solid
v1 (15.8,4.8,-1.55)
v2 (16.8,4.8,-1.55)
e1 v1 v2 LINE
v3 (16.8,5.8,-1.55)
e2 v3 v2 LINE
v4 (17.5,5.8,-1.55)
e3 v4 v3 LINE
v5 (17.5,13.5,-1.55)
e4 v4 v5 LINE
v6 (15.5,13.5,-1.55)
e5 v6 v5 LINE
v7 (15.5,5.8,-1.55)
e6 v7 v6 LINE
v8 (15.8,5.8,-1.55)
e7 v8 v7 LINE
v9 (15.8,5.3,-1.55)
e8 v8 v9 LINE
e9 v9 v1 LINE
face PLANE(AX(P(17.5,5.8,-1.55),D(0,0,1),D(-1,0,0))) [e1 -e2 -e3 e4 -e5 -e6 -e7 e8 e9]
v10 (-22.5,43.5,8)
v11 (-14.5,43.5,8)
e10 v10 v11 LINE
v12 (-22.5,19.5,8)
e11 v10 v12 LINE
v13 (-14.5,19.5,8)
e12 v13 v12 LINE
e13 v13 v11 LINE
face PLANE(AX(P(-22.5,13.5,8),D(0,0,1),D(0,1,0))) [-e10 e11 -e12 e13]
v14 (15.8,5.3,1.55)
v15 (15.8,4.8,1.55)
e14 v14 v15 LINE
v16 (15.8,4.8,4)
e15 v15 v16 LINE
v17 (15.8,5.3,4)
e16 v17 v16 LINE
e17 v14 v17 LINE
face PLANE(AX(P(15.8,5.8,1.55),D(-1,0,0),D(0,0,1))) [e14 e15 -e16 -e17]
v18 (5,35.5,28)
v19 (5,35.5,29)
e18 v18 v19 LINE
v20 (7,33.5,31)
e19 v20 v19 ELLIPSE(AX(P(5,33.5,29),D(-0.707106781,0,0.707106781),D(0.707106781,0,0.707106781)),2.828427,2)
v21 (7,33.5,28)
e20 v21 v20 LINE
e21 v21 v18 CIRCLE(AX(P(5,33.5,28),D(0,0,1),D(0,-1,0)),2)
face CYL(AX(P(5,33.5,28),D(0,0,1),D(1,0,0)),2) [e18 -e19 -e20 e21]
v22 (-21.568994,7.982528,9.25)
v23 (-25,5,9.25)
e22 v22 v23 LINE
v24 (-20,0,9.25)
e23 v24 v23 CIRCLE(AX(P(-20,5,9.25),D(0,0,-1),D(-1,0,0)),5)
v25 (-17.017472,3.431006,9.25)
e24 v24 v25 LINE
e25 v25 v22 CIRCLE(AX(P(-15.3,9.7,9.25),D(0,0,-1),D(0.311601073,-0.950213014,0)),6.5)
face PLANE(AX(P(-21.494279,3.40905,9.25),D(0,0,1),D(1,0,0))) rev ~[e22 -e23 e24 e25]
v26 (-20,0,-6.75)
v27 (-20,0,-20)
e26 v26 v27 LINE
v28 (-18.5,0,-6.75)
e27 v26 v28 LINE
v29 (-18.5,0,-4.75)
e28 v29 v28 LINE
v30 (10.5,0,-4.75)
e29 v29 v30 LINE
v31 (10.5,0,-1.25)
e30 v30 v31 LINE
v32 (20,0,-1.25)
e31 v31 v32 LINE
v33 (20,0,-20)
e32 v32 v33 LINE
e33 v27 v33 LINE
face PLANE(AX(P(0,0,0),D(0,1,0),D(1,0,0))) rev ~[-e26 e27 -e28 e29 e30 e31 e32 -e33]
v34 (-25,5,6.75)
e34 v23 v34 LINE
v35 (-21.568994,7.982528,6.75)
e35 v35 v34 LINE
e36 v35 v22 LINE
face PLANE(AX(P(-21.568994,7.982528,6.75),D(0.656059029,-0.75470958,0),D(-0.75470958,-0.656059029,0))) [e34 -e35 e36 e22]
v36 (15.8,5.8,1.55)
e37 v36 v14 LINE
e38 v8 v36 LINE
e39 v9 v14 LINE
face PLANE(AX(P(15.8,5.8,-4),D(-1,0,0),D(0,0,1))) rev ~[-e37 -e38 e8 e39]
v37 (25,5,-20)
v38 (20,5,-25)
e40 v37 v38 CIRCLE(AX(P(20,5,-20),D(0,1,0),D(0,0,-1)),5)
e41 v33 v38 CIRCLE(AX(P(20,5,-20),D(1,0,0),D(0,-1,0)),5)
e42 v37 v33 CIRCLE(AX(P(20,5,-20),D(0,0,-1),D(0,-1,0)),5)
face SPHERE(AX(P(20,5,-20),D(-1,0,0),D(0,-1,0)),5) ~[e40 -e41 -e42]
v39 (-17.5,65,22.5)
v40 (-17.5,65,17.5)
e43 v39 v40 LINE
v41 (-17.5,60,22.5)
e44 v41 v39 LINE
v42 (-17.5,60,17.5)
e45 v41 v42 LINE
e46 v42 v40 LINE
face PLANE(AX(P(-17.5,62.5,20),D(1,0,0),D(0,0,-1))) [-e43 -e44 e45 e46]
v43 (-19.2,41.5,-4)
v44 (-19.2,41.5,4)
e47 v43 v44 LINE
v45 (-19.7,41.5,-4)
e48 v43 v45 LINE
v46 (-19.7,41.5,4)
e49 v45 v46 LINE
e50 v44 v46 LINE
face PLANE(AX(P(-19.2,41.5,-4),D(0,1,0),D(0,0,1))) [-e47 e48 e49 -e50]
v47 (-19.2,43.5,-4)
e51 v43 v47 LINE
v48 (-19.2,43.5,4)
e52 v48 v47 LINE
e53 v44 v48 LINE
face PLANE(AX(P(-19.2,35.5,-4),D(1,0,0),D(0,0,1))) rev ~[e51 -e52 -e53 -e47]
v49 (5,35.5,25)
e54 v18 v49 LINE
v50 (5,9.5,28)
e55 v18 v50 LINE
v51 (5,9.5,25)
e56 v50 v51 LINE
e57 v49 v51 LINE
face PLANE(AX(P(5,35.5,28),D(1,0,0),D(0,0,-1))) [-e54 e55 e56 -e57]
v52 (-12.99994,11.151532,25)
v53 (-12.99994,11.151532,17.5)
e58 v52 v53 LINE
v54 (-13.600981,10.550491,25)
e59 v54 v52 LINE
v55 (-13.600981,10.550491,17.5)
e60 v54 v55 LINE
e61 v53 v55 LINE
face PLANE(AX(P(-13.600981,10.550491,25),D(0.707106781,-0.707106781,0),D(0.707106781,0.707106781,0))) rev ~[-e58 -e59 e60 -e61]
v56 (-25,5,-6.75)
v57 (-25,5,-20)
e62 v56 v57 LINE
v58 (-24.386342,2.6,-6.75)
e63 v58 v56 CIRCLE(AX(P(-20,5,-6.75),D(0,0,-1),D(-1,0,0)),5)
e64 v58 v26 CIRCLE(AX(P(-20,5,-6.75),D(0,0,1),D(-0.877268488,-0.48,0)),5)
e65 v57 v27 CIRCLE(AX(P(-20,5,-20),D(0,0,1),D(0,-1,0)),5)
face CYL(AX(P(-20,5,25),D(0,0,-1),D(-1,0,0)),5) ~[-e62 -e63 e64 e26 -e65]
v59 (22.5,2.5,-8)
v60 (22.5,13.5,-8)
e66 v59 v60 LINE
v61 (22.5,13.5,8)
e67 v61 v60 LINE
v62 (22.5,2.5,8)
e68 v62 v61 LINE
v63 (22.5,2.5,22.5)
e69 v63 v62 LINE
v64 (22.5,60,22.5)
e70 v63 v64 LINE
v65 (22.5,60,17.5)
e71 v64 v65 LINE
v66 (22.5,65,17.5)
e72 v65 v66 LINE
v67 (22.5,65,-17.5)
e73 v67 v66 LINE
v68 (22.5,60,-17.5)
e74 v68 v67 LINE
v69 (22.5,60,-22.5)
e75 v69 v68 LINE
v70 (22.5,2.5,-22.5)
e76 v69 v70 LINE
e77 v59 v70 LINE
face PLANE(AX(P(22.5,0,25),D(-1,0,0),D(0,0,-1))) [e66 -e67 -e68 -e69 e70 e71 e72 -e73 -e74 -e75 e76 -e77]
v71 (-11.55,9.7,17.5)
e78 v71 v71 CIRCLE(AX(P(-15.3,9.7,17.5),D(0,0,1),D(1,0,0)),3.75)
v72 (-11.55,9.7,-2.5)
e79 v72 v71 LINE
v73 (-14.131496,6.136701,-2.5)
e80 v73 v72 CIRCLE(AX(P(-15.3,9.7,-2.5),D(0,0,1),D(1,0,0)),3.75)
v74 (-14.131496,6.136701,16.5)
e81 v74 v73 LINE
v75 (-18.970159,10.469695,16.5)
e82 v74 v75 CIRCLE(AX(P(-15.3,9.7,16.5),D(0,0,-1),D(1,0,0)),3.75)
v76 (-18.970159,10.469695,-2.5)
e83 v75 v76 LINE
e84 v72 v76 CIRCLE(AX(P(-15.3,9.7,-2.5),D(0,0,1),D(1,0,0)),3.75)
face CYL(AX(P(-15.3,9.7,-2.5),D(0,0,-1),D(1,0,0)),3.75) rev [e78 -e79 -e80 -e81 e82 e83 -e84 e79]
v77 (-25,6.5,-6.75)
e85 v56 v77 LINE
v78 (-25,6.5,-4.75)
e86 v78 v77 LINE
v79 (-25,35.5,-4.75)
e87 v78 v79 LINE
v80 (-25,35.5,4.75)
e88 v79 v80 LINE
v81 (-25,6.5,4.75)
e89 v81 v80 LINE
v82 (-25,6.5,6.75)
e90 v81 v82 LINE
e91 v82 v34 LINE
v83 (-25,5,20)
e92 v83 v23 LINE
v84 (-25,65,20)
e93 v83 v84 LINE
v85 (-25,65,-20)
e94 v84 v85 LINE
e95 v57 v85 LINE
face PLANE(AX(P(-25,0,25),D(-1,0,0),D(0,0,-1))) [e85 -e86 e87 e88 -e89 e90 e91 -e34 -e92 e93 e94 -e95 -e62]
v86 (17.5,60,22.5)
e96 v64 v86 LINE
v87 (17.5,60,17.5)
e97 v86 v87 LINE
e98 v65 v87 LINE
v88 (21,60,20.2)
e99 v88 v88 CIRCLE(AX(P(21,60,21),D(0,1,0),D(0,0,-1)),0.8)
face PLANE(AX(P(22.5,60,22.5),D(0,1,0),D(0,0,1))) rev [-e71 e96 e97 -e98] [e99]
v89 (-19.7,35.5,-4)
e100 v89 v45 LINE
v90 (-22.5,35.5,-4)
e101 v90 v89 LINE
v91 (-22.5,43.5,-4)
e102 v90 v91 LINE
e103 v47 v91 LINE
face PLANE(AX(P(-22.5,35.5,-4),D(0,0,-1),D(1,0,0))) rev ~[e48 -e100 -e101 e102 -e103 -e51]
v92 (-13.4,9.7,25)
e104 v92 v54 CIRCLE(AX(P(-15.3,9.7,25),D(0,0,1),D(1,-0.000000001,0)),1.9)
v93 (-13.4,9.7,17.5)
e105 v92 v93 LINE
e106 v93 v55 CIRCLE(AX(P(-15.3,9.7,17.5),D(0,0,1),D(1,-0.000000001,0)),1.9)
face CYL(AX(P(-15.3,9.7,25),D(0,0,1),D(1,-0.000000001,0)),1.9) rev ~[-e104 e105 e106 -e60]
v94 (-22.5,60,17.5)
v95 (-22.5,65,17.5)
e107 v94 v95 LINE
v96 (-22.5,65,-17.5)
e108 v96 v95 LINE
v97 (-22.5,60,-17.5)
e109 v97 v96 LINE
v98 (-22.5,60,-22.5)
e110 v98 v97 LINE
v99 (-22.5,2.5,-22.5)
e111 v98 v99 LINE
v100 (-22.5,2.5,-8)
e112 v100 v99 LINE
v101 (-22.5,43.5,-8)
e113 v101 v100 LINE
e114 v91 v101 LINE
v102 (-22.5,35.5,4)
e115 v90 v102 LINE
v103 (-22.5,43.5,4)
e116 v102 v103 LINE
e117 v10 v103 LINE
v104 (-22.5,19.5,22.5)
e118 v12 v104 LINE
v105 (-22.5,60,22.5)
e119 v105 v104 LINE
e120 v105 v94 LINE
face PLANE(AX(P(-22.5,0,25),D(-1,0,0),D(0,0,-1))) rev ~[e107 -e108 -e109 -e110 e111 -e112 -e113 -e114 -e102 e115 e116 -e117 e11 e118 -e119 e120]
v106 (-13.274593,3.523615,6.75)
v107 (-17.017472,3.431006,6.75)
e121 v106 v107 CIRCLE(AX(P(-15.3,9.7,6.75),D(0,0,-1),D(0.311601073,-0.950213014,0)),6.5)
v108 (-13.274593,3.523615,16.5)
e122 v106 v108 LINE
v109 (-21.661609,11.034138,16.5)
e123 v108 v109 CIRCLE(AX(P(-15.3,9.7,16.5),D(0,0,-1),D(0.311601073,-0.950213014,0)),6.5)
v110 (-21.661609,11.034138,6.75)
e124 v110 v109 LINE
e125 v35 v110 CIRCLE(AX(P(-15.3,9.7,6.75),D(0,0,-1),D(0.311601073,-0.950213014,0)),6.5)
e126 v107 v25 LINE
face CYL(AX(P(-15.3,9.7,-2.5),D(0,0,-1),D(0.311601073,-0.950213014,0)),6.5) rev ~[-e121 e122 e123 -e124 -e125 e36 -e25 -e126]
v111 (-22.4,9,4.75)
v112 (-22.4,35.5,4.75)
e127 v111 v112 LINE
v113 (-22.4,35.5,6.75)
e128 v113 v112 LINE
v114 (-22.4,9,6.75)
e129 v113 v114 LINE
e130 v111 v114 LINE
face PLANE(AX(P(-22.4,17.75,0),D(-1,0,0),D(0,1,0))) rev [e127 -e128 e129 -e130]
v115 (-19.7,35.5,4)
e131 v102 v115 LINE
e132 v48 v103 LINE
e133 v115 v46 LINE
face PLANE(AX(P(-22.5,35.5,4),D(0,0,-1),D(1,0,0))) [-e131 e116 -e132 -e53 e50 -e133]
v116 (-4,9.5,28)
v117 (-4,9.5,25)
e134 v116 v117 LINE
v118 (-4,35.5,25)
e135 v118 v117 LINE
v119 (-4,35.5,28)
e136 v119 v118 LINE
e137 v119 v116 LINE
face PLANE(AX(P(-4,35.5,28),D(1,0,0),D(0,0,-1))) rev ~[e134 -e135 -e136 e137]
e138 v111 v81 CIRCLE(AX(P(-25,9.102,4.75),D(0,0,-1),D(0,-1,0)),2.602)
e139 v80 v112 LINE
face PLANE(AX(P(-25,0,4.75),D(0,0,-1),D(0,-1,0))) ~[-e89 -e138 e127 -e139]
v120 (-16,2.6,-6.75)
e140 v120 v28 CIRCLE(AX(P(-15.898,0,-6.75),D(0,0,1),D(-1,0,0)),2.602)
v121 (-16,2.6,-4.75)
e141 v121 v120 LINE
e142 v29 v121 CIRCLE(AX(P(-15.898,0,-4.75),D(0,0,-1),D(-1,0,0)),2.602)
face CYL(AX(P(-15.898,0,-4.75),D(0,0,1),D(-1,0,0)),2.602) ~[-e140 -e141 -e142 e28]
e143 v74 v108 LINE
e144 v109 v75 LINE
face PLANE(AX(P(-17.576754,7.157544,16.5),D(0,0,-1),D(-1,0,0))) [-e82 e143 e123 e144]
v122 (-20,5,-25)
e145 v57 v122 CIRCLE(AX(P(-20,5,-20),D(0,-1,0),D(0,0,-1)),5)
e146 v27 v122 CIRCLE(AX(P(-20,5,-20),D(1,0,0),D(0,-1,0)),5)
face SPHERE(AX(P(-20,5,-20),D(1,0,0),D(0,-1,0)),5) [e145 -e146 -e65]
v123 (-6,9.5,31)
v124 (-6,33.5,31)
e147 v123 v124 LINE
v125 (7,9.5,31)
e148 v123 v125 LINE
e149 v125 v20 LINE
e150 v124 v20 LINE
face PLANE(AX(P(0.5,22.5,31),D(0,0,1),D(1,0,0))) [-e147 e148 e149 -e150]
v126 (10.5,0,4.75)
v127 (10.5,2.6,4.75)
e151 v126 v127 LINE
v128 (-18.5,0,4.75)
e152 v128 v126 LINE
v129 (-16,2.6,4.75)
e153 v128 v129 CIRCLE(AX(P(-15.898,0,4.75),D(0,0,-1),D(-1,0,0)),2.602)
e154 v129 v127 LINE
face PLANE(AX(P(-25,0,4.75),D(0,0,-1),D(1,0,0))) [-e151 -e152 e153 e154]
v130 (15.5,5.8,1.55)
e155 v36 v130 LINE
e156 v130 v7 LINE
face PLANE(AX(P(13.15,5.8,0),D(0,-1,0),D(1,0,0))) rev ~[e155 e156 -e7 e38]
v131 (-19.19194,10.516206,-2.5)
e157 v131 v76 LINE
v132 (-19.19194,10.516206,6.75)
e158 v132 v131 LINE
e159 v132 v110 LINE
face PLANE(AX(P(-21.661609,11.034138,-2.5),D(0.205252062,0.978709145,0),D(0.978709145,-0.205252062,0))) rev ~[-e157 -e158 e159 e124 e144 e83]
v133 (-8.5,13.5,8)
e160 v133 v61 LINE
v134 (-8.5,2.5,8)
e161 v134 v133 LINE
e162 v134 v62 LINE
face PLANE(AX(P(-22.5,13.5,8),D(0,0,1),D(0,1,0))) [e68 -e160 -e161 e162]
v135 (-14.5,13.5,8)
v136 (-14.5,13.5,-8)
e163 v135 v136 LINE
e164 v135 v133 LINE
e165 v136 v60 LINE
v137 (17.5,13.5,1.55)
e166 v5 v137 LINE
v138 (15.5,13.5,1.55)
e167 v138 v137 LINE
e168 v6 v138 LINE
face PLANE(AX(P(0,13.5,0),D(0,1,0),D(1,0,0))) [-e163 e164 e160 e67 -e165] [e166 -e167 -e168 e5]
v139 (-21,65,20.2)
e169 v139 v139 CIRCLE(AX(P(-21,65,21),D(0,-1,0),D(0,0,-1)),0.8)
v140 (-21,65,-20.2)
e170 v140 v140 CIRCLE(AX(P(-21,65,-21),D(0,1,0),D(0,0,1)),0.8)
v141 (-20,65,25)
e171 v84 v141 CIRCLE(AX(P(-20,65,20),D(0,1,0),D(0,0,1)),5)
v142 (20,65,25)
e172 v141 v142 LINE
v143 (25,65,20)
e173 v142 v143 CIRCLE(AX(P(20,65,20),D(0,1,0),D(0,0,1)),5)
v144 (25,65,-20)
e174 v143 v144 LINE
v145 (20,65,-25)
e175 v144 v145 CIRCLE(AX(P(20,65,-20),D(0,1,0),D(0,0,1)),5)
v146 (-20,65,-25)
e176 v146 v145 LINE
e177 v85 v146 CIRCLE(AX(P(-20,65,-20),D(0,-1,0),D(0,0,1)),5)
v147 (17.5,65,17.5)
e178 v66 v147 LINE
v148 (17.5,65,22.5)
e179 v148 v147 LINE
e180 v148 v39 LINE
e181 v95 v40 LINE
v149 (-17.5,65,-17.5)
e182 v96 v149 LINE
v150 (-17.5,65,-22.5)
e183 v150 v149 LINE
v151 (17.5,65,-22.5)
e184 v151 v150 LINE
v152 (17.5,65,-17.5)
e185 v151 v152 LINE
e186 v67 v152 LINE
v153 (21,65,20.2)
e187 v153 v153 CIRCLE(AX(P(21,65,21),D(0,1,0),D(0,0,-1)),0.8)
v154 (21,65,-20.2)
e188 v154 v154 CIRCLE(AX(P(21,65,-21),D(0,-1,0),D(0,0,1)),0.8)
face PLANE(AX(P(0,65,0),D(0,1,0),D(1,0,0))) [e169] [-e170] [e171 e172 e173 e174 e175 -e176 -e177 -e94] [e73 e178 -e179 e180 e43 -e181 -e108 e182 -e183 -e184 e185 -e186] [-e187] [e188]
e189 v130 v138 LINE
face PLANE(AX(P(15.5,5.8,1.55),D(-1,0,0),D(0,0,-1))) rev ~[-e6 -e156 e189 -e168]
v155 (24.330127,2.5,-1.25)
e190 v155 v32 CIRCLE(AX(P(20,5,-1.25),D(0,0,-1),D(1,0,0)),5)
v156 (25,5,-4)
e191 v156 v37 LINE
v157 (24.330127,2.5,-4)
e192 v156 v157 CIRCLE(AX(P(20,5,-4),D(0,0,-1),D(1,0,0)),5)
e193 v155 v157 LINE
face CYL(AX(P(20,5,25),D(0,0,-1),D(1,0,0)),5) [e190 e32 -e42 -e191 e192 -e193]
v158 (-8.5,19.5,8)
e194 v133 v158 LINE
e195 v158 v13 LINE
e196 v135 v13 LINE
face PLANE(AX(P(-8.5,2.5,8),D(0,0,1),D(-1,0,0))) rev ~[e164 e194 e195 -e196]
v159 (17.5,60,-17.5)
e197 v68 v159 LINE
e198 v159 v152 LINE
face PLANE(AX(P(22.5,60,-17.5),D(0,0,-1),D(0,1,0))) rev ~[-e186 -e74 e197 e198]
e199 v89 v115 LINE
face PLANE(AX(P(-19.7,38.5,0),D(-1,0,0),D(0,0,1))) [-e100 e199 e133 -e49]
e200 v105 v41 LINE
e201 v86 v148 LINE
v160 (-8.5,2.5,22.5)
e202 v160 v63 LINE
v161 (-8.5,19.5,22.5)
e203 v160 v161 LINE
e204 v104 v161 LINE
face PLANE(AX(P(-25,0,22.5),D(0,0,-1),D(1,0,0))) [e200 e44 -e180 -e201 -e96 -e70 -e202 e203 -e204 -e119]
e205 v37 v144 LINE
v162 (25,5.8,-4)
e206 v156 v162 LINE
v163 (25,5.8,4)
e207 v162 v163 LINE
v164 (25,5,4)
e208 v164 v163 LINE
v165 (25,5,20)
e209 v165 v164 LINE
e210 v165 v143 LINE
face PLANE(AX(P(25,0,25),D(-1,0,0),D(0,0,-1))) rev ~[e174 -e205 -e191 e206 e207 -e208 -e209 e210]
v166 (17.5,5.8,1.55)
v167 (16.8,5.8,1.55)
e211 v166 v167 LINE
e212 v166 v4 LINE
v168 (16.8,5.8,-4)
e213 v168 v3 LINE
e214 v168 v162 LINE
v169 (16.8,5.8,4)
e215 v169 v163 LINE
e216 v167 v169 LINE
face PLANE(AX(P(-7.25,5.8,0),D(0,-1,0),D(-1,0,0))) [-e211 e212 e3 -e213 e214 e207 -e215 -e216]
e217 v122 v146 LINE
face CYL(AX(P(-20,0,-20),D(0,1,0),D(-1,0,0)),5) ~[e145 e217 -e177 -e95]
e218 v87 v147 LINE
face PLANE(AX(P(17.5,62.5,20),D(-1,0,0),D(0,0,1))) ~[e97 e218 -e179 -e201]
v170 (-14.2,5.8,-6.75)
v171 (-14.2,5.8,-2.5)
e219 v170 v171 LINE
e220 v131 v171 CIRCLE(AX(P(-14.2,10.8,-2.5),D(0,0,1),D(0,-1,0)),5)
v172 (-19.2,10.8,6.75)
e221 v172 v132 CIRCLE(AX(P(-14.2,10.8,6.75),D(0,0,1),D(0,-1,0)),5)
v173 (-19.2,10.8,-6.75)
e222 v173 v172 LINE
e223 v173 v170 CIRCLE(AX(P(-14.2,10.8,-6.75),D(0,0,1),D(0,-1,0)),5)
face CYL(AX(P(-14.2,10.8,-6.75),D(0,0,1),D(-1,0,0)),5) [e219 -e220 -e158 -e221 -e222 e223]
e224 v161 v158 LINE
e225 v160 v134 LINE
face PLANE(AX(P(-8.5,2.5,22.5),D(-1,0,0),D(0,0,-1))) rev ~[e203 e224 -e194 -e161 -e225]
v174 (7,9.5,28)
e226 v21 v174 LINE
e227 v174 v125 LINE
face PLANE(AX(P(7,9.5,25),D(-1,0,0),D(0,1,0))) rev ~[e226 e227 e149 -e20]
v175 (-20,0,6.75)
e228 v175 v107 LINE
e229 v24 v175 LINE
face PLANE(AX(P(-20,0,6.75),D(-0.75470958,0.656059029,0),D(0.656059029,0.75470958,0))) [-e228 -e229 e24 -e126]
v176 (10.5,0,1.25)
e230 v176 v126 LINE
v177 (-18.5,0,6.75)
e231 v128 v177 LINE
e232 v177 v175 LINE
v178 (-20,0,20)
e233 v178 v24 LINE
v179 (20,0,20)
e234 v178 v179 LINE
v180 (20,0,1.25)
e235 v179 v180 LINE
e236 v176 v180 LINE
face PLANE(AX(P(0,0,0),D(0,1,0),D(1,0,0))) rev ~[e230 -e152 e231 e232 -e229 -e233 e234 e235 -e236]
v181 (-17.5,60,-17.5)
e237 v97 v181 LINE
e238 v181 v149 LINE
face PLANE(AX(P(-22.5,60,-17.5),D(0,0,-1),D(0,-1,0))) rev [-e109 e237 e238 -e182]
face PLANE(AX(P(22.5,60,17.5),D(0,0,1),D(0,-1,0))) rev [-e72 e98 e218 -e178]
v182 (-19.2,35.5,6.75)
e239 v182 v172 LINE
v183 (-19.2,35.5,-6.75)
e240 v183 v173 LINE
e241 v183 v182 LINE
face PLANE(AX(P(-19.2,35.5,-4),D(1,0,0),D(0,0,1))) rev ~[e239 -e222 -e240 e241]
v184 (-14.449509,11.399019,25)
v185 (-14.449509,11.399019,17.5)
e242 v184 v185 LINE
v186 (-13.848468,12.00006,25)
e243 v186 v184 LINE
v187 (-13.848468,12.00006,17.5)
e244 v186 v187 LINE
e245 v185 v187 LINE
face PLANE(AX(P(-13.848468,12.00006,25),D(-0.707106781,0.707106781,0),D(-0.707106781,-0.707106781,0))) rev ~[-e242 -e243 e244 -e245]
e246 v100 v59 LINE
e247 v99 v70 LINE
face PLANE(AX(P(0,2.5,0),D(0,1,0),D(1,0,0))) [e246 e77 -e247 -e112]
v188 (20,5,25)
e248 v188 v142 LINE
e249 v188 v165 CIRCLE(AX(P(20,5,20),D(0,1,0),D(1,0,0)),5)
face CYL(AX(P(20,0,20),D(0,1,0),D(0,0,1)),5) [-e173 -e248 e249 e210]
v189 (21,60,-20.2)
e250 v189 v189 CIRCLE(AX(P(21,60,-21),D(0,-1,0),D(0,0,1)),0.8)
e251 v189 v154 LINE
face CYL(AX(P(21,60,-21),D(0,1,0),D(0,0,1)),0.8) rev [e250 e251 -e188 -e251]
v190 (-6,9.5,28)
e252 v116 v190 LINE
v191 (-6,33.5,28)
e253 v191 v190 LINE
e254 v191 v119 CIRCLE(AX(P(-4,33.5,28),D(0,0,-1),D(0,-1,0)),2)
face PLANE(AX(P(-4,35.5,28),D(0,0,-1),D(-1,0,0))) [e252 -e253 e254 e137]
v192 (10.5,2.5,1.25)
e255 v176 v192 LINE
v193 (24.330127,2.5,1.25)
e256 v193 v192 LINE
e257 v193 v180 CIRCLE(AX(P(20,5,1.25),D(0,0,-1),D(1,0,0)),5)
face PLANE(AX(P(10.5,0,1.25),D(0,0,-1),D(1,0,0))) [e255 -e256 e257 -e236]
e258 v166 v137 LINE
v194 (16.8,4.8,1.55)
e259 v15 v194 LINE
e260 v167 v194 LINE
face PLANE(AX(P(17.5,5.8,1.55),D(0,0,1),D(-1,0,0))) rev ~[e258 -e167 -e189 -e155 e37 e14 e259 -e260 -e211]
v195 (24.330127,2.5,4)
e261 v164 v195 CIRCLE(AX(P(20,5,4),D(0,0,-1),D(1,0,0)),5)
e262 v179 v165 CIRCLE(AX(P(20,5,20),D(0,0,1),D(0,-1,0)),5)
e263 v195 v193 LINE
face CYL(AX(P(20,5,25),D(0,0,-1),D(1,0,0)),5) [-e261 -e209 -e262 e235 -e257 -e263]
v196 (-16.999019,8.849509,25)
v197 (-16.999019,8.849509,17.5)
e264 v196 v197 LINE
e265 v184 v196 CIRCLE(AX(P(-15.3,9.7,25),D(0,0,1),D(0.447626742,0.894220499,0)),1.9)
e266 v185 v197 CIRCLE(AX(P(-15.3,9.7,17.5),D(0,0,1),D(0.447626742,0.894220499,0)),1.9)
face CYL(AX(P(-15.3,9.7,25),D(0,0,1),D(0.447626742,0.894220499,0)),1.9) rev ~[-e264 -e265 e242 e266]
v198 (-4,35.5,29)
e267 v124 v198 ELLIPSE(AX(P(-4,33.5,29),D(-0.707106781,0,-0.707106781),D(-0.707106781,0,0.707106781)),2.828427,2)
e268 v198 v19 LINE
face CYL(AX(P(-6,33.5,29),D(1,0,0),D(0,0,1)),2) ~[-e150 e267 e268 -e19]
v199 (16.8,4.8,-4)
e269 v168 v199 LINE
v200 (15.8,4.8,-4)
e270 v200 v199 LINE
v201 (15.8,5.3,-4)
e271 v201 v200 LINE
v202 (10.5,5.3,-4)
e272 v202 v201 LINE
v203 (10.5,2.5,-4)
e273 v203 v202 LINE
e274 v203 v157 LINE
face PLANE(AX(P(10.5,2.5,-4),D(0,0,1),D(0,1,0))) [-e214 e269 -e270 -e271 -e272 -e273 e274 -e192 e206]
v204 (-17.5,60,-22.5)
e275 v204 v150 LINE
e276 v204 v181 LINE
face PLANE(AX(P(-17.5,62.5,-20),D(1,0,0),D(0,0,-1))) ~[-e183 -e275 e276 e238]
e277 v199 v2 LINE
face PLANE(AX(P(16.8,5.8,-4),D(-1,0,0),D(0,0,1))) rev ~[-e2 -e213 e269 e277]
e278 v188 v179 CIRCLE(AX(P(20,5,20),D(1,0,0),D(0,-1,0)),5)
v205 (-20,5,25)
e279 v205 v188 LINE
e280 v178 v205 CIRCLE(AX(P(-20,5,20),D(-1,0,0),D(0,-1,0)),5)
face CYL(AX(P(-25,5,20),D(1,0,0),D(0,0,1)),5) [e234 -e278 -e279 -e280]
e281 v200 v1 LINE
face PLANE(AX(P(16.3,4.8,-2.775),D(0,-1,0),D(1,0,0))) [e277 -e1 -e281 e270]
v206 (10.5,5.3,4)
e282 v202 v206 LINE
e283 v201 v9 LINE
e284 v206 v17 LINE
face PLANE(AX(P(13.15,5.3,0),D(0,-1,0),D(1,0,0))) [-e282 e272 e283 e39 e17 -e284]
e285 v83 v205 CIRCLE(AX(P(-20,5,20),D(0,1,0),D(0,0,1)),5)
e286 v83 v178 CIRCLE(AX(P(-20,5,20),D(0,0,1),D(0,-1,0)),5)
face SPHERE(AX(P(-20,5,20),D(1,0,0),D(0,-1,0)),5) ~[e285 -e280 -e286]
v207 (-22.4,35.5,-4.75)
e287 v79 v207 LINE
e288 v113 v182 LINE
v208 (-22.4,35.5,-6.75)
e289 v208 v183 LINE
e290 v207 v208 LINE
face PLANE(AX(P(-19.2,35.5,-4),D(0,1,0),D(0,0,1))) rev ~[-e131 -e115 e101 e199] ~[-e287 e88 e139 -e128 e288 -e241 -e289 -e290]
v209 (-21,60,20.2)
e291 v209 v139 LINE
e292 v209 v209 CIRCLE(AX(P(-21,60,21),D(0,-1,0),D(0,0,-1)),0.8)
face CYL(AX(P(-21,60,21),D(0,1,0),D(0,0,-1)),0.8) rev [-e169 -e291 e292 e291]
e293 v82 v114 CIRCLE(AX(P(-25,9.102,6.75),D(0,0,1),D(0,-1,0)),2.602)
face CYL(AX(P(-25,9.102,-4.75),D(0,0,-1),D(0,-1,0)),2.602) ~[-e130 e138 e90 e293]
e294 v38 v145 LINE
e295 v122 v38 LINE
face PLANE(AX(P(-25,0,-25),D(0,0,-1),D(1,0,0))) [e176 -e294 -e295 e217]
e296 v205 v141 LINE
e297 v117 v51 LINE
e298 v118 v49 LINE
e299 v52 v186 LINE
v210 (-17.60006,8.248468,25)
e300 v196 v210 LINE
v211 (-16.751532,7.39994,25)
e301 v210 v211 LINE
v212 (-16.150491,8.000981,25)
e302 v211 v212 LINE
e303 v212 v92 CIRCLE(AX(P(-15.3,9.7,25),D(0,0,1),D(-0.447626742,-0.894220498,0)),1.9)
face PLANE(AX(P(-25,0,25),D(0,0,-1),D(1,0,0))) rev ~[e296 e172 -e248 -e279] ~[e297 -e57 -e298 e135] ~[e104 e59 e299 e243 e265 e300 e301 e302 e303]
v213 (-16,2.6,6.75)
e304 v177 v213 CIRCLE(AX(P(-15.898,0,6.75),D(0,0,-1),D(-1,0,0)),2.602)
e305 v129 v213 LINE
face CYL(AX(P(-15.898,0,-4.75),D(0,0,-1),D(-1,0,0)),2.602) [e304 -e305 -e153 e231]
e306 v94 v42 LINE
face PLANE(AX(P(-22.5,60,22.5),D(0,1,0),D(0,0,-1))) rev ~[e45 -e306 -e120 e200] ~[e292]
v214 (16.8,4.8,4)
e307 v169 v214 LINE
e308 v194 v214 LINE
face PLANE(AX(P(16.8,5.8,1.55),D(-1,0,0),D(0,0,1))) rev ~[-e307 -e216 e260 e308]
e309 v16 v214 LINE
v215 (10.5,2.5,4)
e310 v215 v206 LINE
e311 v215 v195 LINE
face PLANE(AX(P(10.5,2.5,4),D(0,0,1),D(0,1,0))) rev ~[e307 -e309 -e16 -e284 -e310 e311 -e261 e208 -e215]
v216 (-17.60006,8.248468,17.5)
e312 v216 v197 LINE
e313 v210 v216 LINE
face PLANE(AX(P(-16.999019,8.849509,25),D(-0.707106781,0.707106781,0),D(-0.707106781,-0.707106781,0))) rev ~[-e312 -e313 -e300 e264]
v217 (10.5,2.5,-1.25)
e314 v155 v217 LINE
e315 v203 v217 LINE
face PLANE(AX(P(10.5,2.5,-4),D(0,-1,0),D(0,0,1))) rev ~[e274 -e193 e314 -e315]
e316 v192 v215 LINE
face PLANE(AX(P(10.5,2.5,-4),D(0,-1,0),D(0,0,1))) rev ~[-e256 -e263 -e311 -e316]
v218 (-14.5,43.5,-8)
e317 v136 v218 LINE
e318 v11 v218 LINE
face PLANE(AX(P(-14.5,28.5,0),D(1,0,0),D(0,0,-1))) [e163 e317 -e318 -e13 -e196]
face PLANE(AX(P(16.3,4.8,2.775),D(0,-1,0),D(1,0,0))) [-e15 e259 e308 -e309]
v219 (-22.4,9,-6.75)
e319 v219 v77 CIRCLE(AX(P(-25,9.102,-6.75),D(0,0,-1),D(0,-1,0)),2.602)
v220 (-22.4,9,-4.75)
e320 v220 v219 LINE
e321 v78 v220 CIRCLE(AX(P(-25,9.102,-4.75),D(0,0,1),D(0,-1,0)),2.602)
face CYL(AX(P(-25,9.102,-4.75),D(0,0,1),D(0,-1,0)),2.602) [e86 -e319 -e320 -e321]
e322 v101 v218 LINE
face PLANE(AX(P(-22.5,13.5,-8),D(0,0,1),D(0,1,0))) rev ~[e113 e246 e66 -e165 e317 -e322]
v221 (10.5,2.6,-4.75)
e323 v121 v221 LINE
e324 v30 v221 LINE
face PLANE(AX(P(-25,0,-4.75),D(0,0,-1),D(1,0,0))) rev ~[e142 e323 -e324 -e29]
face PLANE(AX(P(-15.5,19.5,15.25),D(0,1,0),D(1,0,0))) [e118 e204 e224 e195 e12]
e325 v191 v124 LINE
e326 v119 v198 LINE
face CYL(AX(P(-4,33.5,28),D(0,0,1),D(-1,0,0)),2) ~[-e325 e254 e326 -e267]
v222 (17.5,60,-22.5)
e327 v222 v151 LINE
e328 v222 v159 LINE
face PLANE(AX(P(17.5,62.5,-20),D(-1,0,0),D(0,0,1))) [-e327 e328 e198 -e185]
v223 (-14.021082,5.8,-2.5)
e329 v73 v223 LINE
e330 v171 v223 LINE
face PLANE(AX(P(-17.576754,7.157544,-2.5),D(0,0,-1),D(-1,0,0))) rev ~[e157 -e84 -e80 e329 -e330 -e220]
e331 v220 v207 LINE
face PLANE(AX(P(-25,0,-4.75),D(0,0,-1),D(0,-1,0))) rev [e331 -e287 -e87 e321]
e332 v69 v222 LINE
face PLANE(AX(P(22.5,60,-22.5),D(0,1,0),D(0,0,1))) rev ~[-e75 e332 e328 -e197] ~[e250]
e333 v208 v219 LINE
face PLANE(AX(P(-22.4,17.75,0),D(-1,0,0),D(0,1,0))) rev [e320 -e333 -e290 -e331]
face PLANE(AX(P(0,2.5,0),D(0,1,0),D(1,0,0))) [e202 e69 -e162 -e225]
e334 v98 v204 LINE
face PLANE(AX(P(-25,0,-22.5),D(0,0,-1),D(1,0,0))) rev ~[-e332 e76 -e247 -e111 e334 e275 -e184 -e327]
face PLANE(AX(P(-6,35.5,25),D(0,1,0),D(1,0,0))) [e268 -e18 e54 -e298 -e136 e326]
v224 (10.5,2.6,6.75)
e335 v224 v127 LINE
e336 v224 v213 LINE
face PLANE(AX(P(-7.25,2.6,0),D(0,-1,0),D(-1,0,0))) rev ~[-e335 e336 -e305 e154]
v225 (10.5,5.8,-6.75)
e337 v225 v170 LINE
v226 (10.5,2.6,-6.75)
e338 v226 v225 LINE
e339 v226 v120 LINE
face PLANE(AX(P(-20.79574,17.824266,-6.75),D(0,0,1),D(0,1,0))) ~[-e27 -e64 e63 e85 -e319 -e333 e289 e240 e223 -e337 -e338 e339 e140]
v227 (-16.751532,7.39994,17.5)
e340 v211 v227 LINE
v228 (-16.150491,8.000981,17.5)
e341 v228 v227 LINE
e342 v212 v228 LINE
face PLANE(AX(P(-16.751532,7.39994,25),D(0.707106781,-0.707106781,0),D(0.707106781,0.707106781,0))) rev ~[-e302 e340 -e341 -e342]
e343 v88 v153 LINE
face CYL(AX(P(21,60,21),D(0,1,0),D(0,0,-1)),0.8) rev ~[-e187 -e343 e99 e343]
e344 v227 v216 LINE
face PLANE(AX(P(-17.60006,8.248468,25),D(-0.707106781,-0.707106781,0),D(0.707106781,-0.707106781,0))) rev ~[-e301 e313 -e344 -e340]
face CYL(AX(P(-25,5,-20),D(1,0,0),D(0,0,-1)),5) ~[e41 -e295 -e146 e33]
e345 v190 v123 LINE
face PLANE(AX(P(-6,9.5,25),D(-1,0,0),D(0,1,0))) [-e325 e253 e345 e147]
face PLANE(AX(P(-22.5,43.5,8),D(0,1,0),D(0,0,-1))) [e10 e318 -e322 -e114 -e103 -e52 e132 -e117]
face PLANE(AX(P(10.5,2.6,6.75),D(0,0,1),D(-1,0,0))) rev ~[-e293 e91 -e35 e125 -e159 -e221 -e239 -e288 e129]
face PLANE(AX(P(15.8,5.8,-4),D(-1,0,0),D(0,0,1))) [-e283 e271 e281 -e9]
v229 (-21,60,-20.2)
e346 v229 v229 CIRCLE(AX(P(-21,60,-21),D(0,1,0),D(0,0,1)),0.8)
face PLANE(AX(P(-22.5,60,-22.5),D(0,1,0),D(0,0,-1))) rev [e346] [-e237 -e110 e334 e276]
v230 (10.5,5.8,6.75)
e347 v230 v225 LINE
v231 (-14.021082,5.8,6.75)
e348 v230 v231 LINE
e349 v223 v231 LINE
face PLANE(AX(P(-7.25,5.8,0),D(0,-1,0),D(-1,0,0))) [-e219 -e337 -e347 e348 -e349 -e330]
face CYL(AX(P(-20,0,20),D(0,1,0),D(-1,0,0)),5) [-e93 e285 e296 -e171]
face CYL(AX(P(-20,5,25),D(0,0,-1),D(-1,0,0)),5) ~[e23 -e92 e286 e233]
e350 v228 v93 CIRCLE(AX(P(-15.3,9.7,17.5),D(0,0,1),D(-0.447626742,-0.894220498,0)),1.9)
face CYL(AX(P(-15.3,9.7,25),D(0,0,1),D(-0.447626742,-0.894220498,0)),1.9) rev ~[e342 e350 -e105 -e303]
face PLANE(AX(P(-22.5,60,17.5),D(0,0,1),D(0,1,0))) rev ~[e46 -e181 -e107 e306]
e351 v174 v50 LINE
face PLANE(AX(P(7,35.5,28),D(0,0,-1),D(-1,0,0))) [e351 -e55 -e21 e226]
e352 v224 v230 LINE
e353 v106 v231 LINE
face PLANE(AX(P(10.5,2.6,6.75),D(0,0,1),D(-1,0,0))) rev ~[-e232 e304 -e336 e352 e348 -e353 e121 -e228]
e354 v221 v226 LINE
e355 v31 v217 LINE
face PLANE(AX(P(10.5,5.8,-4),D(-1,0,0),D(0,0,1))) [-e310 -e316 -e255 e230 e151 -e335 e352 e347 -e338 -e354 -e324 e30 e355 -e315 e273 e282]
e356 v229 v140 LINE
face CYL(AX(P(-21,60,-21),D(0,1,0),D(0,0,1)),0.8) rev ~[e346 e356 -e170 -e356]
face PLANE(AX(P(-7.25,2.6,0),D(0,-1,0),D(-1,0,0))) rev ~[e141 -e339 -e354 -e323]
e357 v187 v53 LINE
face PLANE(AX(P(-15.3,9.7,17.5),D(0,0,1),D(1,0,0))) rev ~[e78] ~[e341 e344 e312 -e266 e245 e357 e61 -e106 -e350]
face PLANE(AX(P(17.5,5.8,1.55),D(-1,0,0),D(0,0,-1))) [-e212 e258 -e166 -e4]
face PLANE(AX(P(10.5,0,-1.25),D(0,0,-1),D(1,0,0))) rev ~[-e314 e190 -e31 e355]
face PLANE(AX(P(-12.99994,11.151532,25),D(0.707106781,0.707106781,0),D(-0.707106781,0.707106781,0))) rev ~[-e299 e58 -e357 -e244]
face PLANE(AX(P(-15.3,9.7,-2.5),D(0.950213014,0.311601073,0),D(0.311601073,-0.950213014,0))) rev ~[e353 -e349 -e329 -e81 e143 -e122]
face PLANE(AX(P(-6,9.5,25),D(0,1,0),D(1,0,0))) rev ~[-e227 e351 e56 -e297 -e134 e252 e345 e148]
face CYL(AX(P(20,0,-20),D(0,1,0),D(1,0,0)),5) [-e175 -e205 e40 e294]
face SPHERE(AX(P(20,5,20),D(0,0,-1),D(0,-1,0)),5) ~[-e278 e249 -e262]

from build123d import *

# Parameters (mm, degrees)
SKETCH1_W                             = 50
SKETCH1_H                             = 50
BASE_SHELL_DEPTH                      = 65
SHELL1_T                              = -2.5
FILLET1_R                             = 5
SKETCH2_W                             = 13
SKETCH2_H                             = 26
LOCK_CONNECTOR_EXTRUDE_DEPTH          = 6
SKETCH3_W                             = 3
SKETCH3_H                             = 2
LOCK_CONNECTOR_CUT_DEPTH              = 54.350257731
LOCK_CONNECTOR_FILLET_R               = 2
SKETCH8_W                             = 45
SKETCH8_H                             = 16
BOTTOM_CONNECTOR_INSIDE_DEPTH         = 11
SKETCH10_W                            = 35.5
SKETCH10_H                            = 9.5
BOTTOM_FEMALE_BOTTOM_CUT_DEPTH        = 2.6
SKETCH7_W                             = 35.5
SKETCH7_H                             = 13.5
BOTTOM_FEMALE_TOP_CUT_DEPTH           = 3.2
ROUNDED_ENTRANCE_REACH                = 80.282
ROUNDED_ENTRANCE_DIRECTION_2_REACH    = 80.282
SKETCH22_W                            = 8
SKETCH22_H                            = 3.3
HEADER_PIN_CUT_DEPTH                  = 81.288542146
HEADER_PIN_HOLDER_REACH               = 78.23
SKETCH23_W                            = 14.435585072
SKETCH23_H                            = 2.5
SKETCH25_W                            = 2
SKETCH25_H                            = 3.1
WIRE_CUT_DEPTH                        = 72.348721082
SKETCH57_W                            = 1
SKETCH57_H                            = 2.45
PIN_STOPPER_DEPTH                     = 1
SKETCH15_W                            = 16
SKETCH15_H                            = 30
SIDE_CONNECTOR_INSIDE_DEPTH           = 8
SKETCH58_W                            = 3.3
SKETCH58_H                            = 8
CUT_EXTRUDE7_DEPTH                    = 54.350257731
SKETCH14_R                            = 1.25
LOCK_BOTTOM_SUPPORT_DEPTH             = 4.5
SKETCH61_W                            = 5
SKETCH61_H                            = 5
BOSS_EXTRUDE12_DEPTH                  = 5
MIRROR2_COPY_1_SKETCH_W               = 5
MIRROR2_COPY_1_SKETCH_H               = 5
MIRROR2_COPY_1_DEPTH                  = 5
LOCK_SUPPORT_DEPTH                    = 17
LOCK_CUT_DEPTH                        = 19.5
SKETCH11_R                            = 3.75
SPRING_GAP_DEPTH                      = 20
FLANG_GAP_DEPTH                       = 19
FLANG_SCREW_CUT_DEPTH                 = 2.5
FILLET2_R                             = 5
SKETCH59_W                            = 5.3
SKETCH59_H                            = 8
SIDE_CONNECTOR_BOTTOM_SUPPORT_DEPTH   = 0.5
SKETCH60_W                            = 8
SKETCH60_H                            = 6
BOTTOM_CONNECTOR_BOTTOM_SUPPORT_DEPTH = 0.5


with BuildPart() as part:
    # Sketch1 → base shell (new body)
    with BuildSketch(Plane(origin=(0, 0, 0), x_dir=(1, 0, 0), z_dir=(0, 1, 0))):
        Rectangle(SKETCH1_W, SKETCH1_H)
    extrude(amount=BASE_SHELL_DEPTH)

    # Shell1
    shell1_openings = [part.faces().sort_by_distance(p)[0] for p in [
        (0, 65, 0),
    ]]
    offset(amount=SHELL1_T, openings=shell1_openings, kind=Kind.INTERSECTION)

    # Fillet1
    fillet1_edges = [part.edges().sort_by_distance(p)[0] for p in [
        (0, 0, -25),
        (25, 0, 0),
        (0, 0, 25),
        (-25, 0, 0),
        (-25, 32.5, -25),
        (25, 32.5, -25),
        (25, 32.5, 25),
        (-25, 32.5, 25),
    ]]
    fillet(fillet1_edges, radius=FILLET1_R)

    # Sketch2 → lock connector extrude (add)
    with BuildSketch(Plane.XY.offset(25)):
        with Locations((0.5, 22.5)):
            Rectangle(SKETCH2_W, SKETCH2_H)
    extrude(amount=LOCK_CONNECTOR_EXTRUDE_DEPTH)

    # Sketch3 → lock connector cut (cut, through all)
    with BuildSketch(Plane(origin=(0, 35.5, 0), x_dir=(0, 0, -1), z_dir=(0, 1, 0))):
        with Locations((-26.5, -6)):
            Rectangle(SKETCH3_W, SKETCH3_H)
        with Locations((-26.5, 5)):
            Rectangle(SKETCH3_W, SKETCH3_H)
    extrude(amount=-LOCK_CONNECTOR_CUT_DEPTH, mode=Mode.SUBTRACT)

    # lock connector fillet
    lock_connector_fillet_edges = [part.edges().sort_by_distance(p)[0] for p in [
        (7, 35.5, 29.5),
        (-6, 35.5, 29.5),
        (0.5, 35.5, 31),
    ]]
    fillet(lock_connector_fillet_edges, radius=LOCK_CONNECTOR_FILLET_R)

    # Sketch8 → bottom connector inside (add)
    with BuildSketch(Plane(origin=(0, 2.5, 0), x_dir=(1, 0, 0), z_dir=(0, 1, 0))):
        Rectangle(SKETCH8_W, SKETCH8_H)
    extrude(amount=BOTTOM_CONNECTOR_INSIDE_DEPTH)

    # Sketch10 → bottom female bottom cut (cut)
    with BuildSketch(Plane.XZ):
        with Locations((-7.25, 0)):
            Rectangle(SKETCH10_W, SKETCH10_H)
    bottom_female_bottom_cut = extrude(amount=-BOTTOM_FEMALE_BOTTOM_CUT_DEPTH, mode=Mode.SUBTRACT)

    # Sketch7 → bottom female top cut (cut)
    with BuildSketch(Plane(origin=(0, 2.6, 0), x_dir=(-1, 0, 0), z_dir=(0, -1, 0))):
        with Locations((7.25, 0)):
            Rectangle(SKETCH7_W, SKETCH7_H)
    bottom_female_top_cut = extrude(amount=-BOTTOM_FEMALE_TOP_CUT_DEPTH, mode=Mode.SUBTRACT)

    # rounded entrance: up to this face of the body (flat: up to its plane)
    rounded_entrance_end = Plane(part.part.faces().sort_by_distance((-7.175733888, 4.204259527, -6.75))[0])
    # Sketch26 → rounded entrance (cut, up to the picked face)
    with BuildSketch(Plane.XY.offset(-4.75), mode=Mode.PRIVATE) as rounded_entrance_sk1:
        with BuildLine():
            Line((-16, 2.6), (-24.38634244, 2.6))
            ThreePointArc((-24.38634244, 2.6), (-22.549509757, 0.698837366), (-20, 0))
            Line((-20, 0), (-18.5, 0))
            ThreePointArc((-18.5, 0), (-17.773607635, 1.80346888), (-16, 2.6))
        make_face()
    rounded_entrance_tool1 = split(extrude(rounded_entrance_sk1.sketch, amount=-ROUNDED_ENTRANCE_REACH, mode=Mode.PRIVATE), bisect_by=rounded_entrance_end, keep=Keep.BOTH, mode=Mode.PRIVATE)
    rounded_entrance = rounded_entrance_tool1.solids().sort_by(Axis((-20.596969, 1.517539, -4.75), (0, 0, -1)))[0]
    add(rounded_entrance, mode=Mode.SUBTRACT)

    # rounded entrance direction 2: up to this face of the body (flat: up to its plane)
    rounded_entrance_direction_2_end = Plane(part.part.faces().sort_by_distance((-7.175733888, 4.204259527, 6.75))[0])
    # Sketch26 → rounded entrance direction 2 (cut, up to the picked face)
    with BuildSketch(Plane.XY.offset(-4.75), mode=Mode.PRIVATE) as rounded_entrance_direction_2_sk1:
        with BuildLine():
            Line((-16, 2.6), (-24.38634244, 2.6))
            ThreePointArc((-24.38634244, 2.6), (-22.549509757, 0.698837366), (-20, 0))
            Line((-20, 0), (-18.5, 0))
            ThreePointArc((-18.5, 0), (-17.773607635, 1.80346888), (-16, 2.6))
        make_face()
    rounded_entrance_direction_2_tool1 = split(extrude(rounded_entrance_direction_2_sk1.sketch, amount=ROUNDED_ENTRANCE_DIRECTION_2_REACH, mode=Mode.PRIVATE), bisect_by=rounded_entrance_direction_2_end, keep=Keep.BOTH, mode=Mode.PRIVATE)
    rounded_entrance_direction_2 = rounded_entrance_direction_2_tool1.solids().sort_by(Axis((-20.596969, 1.517539, -4.75), (0, 0, 1)))[0]
    add(rounded_entrance_direction_2, mode=Mode.SUBTRACT)

    # Sketch22 → header pin cut (cut, through all)
    with BuildSketch(Plane.ZY.offset(-10.5)):
        with Locations((0, 4.15)):
            Rectangle(SKETCH22_W, SKETCH22_H)
    extrude(amount=-HEADER_PIN_CUT_DEPTH, mode=Mode.SUBTRACT)

    # Sketch23 → header pin holder (cut, up to next)
    with BuildSketch(Plane.XZ, mode=Mode.PRIVATE) as header_pin_holder_sk1:
        with Locations((17.717792536, 0)):
            Rectangle(SKETCH23_W, SKETCH23_H)
    header_pin_holder_tool1 = extrude(header_pin_holder_sk1.sketch, amount=-HEADER_PIN_HOLDER_REACH, mode=Mode.PRIVATE) & part.part
    add(header_pin_holder_tool1.solids().sort_by_distance((17.717793, 0, 0))[0], mode=Mode.SUBTRACT)

    # Sketch25 → wire cut (cut, through all)
    with BuildSketch(Plane(origin=(0, 5.8, 0), x_dir=(-1, 0, 0), z_dir=(0, -1, 0))):
        with Locations((-16.5, 0)):
            Rectangle(SKETCH25_W, SKETCH25_H)
    extrude(amount=-WIRE_CUT_DEPTH, mode=Mode.SUBTRACT)

    # Sketch57 → pin stopper (add)
    with BuildSketch(Plane.XZ.offset(-5.8)):
        with Locations((16.3, 2.775)):
            Rectangle(SKETCH57_W, SKETCH57_H)
        with Locations((16.3, -2.775)):
            Rectangle(SKETCH57_W, SKETCH57_H)
    extrude(amount=PIN_STOPPER_DEPTH)

    # Sketch15 → side connector inside (add)
    with BuildSketch(Plane(origin=(-22.5, 0, 0), x_dir=(0, 0, -1), z_dir=(1, 0, 0))):
        with Locations((0, 28.5)):
            Rectangle(SKETCH15_W, SKETCH15_H)
    extrude(amount=SIDE_CONNECTOR_INSIDE_DEPTH)

    # side connector mirror: bottom female bottom cut, bottom female top cut, rounded entrance, rounded entrance direction 2 across plane
    add(bottom_female_bottom_cut.mirror(Plane(origin=(-12.5, 12.5, 0), x_dir=(0, 0, 1), z_dir=(0.7071067811865488, -0.7071067811865464, 0))), mode=Mode.SUBTRACT)
    add(bottom_female_top_cut.mirror(Plane(origin=(-12.5, 12.5, 0), x_dir=(0, 0, 1), z_dir=(0.7071067811865488, -0.7071067811865464, 0))), mode=Mode.SUBTRACT)
    add(rounded_entrance.mirror(Plane(origin=(-12.5, 12.5, 0), x_dir=(0, 0, 1), z_dir=(0.7071067811865488, -0.7071067811865464, 0))), mode=Mode.SUBTRACT)
    add(rounded_entrance_direction_2.mirror(Plane(origin=(-12.5, 12.5, 0), x_dir=(0, 0, 1), z_dir=(0.7071067811865488, -0.7071067811865464, 0))), mode=Mode.SUBTRACT)

    # Sketch58 → Cut-Extrude7 (cut, through all)
    with BuildSketch(Plane.XZ.offset(-35.5)):
        with Locations((-20.85, 0)):
            Rectangle(SKETCH58_W, SKETCH58_H)
    extrude(amount=-CUT_EXTRUDE7_DEPTH, mode=Mode.SUBTRACT)

    # Sketch14 → Lock bottom support (add)
    with BuildSketch(Plane.XY.offset(-6.75)):
        with Locations((-15.3, 9.7)):
            Circle(SKETCH14_R)
    extrude(amount=LOCK_BOTTOM_SUPPORT_DEPTH)

    # Sketch61 → Boss-Extrude12 (add)
    with BuildSketch(Plane.ZY.offset(-22.5)):
        with Locations((-20, 62.5)):
            Rectangle(SKETCH61_W, SKETCH61_H)
    boss_extrude12 = extrude(amount=BOSS_EXTRUDE12_DEPTH)

    # Sketch29 → M2 Tapped Hole1 (revolve, cut)
    with BuildSketch(Plane(origin=(21, 65, -21), x_dir=(0, 0, 1), z_dir=(1, 0, 0))):
        Polygon((0, 0), (0, 5.480688495), (0.8, 5), (0.8, 0), align=None)
    m2_tapped_hole1 = revolve(axis=Axis((21, 71.35, -21), (0, -1, 0)), mode=Mode.SUBTRACT)

    # Mirror1: Boss-Extrude12, M2 Tapped Hole1 across plane
    add(boss_extrude12.mirror(Plane(origin=(0, 0, 0), x_dir=(0, 0, 1), z_dir=(1, 0, 0))))
    add(m2_tapped_hole1.mirror(Plane(origin=(0, 0, 0), x_dir=(0, 0, 1), z_dir=(1, 0, 0))), mode=Mode.SUBTRACT)

    # Mirror2: Boss-Extrude12, M2 Tapped Hole1 across plane
    add(boss_extrude12.mirror(Plane.XY))
    add(m2_tapped_hole1.mirror(Plane.XY), mode=Mode.SUBTRACT)

    # Mirror2 copy 1 sketch → Mirror2 copy 1 (add)
    with BuildSketch(Plane(origin=(-22.5, 0, 0), x_dir=(0, 0, -1), z_dir=(1, 0, 0))):
        with Locations((-20, 62.5)):
            Rectangle(MIRROR2_COPY_1_SKETCH_W, MIRROR2_COPY_1_SKETCH_H)
    extrude(amount=MIRROR2_COPY_1_DEPTH)

    # Mirror2 copy 2 sketch → Mirror2 copy 2 (revolve, cut)
    with BuildSketch(Plane(origin=(-21, 65, 21), x_dir=(0, 0, -1), z_dir=(-1, 0, 0))):
        Polygon((0, 0), (0, 5.480688495), (0.8, 5), (0.8, 0), align=None)
    revolve(axis=Axis((-21, 71.35, 21), (0, -1, 0)), mode=Mode.SUBTRACT)

    # Sketch41 → lock support (add)
    with BuildSketch(Plane(origin=(0, 2.5, 0), x_dir=(1, 0, 0), z_dir=(0, 1, 0))):
        Polygon((-22.5, -22.5), (-8.5, -22.5), (-8.5, -8), (-22.5, -8), (-22.5, -17), align=None)
    extrude(amount=LOCK_SUPPORT_DEPTH)

    # Sketch6 → lock cut (cut)
    with BuildSketch(Plane.XY.offset(25)):
        with BuildLine():
            ThreePointArc((-16.15049081, 8.000981053), (-16.643502884, 8.356497116), (-16.999018947, 8.84950919))
            Line((-16.999018947, 8.84950919), (-17.600059711, 8.248468426))
            Line((-17.600059711, 8.248468426), (-16.751531574, 7.399940289))
            Line((-16.751531574, 7.399940289), (-16.15049081, 8.000981053))
        make_face()
        with BuildLine():
            ThreePointArc((-14.44950919, 11.399018947), (-13.956497116, 11.043502884), (-13.600981053, 10.55049081))
            Line((-13.600981053, 10.55049081), (-12.999940289, 11.151531574))
            Line((-12.999940289, 11.151531574), (-13.848468426, 12.000059711))
            Line((-13.848468426, 12.000059711), (-14.44950919, 11.399018947))
        make_face()
        with BuildLine():
            ThreePointArc((-13.4, 9.7), (-13.4509278, 10.136957664), (-13.600981053, 10.55049081))
            ThreePointArc((-13.600981053, 10.55049081), (-13.956497116, 11.043502884), (-14.44950919, 11.399018947))
            ThreePointArc((-14.44950919, 11.399018947), (-16.643502884, 11.043502884), (-16.999018947, 8.84950919))
            ThreePointArc((-16.999018947, 8.84950919), (-16.643502884, 8.356497116), (-16.15049081, 8.000981053))
            ThreePointArc((-16.15049081, 8.000981053), (-14.301484236, 8.083532781), (-13.4, 9.7))
        make_face()
    extrude(amount=-LOCK_CUT_DEPTH, mode=Mode.SUBTRACT)

    # Sketch11 → Spring gap (cut)
    with BuildSketch(Plane.XY.offset(-2.5)):
        with Locations((-15.3, 9.7)):
            Circle(SKETCH11_R)
    extrude(amount=SPRING_GAP_DEPTH, mode=Mode.SUBTRACT)

    # Sketch12 → Flang gap (cut)
    with BuildSketch(Plane.XY.offset(-2.5)):
        with BuildLine():
            Line((-15.3, 9.7), (-13.274593025, 3.523615411))
            ThreePointArc((-13.274593025, 3.523615411), (-19.63620247, 4.857753812), (-21.661609445, 11.034138401))
            Line((-21.661609445, 11.034138401), (-15.3, 9.7))
        make_face()
    extrude(amount=FLANG_GAP_DEPTH, mode=Mode.SUBTRACT)

    # Sketch52 → flang screw cut (cut)
    with BuildSketch(Plane(origin=(0, 0, 6.75), x_dir=(-1, 0, 0), z_dir=(0, 0, -1))):
        with BuildLine():
            Line((21.568994271, 7.982527778), (25, 5))
            add(Edge.make_bspline(
                [(25, 5), (26.808053779, 2.347485232), (22.598490609, -3.321737418), (20, 0)],
                knots=[0, 0, 0, 0, 1, 1, 1, 1], degree=3))
            Line((20, 0), (17.017472222, 3.431005729))
            Line((17.017472222, 3.431005729), (21.568994271, 7.982527778))
        make_face()
    extrude(amount=-FLANG_SCREW_CUT_DEPTH, mode=Mode.SUBTRACT)

    # Fillet2
    fillet2_edges = [part.edges().sort_by_distance(p)[0] for p in [
        (-19.2, 5.8, -4.625),
    ]]
    fillet(fillet2_edges, radius=FILLET2_R)

    # Sketch59 → side connector bottom support (add)
    with BuildSketch(Plane.XZ.offset(-5.8)):
        with Locations((13.15, 0)):
            Rectangle(SKETCH59_W, SKETCH59_H)
    extrude(amount=SIDE_CONNECTOR_BOTTOM_SUPPORT_DEPTH)

    # Sketch60 → bottom connector bottom support (add)
    with BuildSketch(Plane.ZY.offset(19.2)):
        with Locations((0, 38.5)):
            Rectangle(SKETCH60_W, SKETCH60_H)
    extrude(amount=BOTTOM_CONNECTOR_BOTTOM_SUPPORT_DEPTH)


solid = part.part
